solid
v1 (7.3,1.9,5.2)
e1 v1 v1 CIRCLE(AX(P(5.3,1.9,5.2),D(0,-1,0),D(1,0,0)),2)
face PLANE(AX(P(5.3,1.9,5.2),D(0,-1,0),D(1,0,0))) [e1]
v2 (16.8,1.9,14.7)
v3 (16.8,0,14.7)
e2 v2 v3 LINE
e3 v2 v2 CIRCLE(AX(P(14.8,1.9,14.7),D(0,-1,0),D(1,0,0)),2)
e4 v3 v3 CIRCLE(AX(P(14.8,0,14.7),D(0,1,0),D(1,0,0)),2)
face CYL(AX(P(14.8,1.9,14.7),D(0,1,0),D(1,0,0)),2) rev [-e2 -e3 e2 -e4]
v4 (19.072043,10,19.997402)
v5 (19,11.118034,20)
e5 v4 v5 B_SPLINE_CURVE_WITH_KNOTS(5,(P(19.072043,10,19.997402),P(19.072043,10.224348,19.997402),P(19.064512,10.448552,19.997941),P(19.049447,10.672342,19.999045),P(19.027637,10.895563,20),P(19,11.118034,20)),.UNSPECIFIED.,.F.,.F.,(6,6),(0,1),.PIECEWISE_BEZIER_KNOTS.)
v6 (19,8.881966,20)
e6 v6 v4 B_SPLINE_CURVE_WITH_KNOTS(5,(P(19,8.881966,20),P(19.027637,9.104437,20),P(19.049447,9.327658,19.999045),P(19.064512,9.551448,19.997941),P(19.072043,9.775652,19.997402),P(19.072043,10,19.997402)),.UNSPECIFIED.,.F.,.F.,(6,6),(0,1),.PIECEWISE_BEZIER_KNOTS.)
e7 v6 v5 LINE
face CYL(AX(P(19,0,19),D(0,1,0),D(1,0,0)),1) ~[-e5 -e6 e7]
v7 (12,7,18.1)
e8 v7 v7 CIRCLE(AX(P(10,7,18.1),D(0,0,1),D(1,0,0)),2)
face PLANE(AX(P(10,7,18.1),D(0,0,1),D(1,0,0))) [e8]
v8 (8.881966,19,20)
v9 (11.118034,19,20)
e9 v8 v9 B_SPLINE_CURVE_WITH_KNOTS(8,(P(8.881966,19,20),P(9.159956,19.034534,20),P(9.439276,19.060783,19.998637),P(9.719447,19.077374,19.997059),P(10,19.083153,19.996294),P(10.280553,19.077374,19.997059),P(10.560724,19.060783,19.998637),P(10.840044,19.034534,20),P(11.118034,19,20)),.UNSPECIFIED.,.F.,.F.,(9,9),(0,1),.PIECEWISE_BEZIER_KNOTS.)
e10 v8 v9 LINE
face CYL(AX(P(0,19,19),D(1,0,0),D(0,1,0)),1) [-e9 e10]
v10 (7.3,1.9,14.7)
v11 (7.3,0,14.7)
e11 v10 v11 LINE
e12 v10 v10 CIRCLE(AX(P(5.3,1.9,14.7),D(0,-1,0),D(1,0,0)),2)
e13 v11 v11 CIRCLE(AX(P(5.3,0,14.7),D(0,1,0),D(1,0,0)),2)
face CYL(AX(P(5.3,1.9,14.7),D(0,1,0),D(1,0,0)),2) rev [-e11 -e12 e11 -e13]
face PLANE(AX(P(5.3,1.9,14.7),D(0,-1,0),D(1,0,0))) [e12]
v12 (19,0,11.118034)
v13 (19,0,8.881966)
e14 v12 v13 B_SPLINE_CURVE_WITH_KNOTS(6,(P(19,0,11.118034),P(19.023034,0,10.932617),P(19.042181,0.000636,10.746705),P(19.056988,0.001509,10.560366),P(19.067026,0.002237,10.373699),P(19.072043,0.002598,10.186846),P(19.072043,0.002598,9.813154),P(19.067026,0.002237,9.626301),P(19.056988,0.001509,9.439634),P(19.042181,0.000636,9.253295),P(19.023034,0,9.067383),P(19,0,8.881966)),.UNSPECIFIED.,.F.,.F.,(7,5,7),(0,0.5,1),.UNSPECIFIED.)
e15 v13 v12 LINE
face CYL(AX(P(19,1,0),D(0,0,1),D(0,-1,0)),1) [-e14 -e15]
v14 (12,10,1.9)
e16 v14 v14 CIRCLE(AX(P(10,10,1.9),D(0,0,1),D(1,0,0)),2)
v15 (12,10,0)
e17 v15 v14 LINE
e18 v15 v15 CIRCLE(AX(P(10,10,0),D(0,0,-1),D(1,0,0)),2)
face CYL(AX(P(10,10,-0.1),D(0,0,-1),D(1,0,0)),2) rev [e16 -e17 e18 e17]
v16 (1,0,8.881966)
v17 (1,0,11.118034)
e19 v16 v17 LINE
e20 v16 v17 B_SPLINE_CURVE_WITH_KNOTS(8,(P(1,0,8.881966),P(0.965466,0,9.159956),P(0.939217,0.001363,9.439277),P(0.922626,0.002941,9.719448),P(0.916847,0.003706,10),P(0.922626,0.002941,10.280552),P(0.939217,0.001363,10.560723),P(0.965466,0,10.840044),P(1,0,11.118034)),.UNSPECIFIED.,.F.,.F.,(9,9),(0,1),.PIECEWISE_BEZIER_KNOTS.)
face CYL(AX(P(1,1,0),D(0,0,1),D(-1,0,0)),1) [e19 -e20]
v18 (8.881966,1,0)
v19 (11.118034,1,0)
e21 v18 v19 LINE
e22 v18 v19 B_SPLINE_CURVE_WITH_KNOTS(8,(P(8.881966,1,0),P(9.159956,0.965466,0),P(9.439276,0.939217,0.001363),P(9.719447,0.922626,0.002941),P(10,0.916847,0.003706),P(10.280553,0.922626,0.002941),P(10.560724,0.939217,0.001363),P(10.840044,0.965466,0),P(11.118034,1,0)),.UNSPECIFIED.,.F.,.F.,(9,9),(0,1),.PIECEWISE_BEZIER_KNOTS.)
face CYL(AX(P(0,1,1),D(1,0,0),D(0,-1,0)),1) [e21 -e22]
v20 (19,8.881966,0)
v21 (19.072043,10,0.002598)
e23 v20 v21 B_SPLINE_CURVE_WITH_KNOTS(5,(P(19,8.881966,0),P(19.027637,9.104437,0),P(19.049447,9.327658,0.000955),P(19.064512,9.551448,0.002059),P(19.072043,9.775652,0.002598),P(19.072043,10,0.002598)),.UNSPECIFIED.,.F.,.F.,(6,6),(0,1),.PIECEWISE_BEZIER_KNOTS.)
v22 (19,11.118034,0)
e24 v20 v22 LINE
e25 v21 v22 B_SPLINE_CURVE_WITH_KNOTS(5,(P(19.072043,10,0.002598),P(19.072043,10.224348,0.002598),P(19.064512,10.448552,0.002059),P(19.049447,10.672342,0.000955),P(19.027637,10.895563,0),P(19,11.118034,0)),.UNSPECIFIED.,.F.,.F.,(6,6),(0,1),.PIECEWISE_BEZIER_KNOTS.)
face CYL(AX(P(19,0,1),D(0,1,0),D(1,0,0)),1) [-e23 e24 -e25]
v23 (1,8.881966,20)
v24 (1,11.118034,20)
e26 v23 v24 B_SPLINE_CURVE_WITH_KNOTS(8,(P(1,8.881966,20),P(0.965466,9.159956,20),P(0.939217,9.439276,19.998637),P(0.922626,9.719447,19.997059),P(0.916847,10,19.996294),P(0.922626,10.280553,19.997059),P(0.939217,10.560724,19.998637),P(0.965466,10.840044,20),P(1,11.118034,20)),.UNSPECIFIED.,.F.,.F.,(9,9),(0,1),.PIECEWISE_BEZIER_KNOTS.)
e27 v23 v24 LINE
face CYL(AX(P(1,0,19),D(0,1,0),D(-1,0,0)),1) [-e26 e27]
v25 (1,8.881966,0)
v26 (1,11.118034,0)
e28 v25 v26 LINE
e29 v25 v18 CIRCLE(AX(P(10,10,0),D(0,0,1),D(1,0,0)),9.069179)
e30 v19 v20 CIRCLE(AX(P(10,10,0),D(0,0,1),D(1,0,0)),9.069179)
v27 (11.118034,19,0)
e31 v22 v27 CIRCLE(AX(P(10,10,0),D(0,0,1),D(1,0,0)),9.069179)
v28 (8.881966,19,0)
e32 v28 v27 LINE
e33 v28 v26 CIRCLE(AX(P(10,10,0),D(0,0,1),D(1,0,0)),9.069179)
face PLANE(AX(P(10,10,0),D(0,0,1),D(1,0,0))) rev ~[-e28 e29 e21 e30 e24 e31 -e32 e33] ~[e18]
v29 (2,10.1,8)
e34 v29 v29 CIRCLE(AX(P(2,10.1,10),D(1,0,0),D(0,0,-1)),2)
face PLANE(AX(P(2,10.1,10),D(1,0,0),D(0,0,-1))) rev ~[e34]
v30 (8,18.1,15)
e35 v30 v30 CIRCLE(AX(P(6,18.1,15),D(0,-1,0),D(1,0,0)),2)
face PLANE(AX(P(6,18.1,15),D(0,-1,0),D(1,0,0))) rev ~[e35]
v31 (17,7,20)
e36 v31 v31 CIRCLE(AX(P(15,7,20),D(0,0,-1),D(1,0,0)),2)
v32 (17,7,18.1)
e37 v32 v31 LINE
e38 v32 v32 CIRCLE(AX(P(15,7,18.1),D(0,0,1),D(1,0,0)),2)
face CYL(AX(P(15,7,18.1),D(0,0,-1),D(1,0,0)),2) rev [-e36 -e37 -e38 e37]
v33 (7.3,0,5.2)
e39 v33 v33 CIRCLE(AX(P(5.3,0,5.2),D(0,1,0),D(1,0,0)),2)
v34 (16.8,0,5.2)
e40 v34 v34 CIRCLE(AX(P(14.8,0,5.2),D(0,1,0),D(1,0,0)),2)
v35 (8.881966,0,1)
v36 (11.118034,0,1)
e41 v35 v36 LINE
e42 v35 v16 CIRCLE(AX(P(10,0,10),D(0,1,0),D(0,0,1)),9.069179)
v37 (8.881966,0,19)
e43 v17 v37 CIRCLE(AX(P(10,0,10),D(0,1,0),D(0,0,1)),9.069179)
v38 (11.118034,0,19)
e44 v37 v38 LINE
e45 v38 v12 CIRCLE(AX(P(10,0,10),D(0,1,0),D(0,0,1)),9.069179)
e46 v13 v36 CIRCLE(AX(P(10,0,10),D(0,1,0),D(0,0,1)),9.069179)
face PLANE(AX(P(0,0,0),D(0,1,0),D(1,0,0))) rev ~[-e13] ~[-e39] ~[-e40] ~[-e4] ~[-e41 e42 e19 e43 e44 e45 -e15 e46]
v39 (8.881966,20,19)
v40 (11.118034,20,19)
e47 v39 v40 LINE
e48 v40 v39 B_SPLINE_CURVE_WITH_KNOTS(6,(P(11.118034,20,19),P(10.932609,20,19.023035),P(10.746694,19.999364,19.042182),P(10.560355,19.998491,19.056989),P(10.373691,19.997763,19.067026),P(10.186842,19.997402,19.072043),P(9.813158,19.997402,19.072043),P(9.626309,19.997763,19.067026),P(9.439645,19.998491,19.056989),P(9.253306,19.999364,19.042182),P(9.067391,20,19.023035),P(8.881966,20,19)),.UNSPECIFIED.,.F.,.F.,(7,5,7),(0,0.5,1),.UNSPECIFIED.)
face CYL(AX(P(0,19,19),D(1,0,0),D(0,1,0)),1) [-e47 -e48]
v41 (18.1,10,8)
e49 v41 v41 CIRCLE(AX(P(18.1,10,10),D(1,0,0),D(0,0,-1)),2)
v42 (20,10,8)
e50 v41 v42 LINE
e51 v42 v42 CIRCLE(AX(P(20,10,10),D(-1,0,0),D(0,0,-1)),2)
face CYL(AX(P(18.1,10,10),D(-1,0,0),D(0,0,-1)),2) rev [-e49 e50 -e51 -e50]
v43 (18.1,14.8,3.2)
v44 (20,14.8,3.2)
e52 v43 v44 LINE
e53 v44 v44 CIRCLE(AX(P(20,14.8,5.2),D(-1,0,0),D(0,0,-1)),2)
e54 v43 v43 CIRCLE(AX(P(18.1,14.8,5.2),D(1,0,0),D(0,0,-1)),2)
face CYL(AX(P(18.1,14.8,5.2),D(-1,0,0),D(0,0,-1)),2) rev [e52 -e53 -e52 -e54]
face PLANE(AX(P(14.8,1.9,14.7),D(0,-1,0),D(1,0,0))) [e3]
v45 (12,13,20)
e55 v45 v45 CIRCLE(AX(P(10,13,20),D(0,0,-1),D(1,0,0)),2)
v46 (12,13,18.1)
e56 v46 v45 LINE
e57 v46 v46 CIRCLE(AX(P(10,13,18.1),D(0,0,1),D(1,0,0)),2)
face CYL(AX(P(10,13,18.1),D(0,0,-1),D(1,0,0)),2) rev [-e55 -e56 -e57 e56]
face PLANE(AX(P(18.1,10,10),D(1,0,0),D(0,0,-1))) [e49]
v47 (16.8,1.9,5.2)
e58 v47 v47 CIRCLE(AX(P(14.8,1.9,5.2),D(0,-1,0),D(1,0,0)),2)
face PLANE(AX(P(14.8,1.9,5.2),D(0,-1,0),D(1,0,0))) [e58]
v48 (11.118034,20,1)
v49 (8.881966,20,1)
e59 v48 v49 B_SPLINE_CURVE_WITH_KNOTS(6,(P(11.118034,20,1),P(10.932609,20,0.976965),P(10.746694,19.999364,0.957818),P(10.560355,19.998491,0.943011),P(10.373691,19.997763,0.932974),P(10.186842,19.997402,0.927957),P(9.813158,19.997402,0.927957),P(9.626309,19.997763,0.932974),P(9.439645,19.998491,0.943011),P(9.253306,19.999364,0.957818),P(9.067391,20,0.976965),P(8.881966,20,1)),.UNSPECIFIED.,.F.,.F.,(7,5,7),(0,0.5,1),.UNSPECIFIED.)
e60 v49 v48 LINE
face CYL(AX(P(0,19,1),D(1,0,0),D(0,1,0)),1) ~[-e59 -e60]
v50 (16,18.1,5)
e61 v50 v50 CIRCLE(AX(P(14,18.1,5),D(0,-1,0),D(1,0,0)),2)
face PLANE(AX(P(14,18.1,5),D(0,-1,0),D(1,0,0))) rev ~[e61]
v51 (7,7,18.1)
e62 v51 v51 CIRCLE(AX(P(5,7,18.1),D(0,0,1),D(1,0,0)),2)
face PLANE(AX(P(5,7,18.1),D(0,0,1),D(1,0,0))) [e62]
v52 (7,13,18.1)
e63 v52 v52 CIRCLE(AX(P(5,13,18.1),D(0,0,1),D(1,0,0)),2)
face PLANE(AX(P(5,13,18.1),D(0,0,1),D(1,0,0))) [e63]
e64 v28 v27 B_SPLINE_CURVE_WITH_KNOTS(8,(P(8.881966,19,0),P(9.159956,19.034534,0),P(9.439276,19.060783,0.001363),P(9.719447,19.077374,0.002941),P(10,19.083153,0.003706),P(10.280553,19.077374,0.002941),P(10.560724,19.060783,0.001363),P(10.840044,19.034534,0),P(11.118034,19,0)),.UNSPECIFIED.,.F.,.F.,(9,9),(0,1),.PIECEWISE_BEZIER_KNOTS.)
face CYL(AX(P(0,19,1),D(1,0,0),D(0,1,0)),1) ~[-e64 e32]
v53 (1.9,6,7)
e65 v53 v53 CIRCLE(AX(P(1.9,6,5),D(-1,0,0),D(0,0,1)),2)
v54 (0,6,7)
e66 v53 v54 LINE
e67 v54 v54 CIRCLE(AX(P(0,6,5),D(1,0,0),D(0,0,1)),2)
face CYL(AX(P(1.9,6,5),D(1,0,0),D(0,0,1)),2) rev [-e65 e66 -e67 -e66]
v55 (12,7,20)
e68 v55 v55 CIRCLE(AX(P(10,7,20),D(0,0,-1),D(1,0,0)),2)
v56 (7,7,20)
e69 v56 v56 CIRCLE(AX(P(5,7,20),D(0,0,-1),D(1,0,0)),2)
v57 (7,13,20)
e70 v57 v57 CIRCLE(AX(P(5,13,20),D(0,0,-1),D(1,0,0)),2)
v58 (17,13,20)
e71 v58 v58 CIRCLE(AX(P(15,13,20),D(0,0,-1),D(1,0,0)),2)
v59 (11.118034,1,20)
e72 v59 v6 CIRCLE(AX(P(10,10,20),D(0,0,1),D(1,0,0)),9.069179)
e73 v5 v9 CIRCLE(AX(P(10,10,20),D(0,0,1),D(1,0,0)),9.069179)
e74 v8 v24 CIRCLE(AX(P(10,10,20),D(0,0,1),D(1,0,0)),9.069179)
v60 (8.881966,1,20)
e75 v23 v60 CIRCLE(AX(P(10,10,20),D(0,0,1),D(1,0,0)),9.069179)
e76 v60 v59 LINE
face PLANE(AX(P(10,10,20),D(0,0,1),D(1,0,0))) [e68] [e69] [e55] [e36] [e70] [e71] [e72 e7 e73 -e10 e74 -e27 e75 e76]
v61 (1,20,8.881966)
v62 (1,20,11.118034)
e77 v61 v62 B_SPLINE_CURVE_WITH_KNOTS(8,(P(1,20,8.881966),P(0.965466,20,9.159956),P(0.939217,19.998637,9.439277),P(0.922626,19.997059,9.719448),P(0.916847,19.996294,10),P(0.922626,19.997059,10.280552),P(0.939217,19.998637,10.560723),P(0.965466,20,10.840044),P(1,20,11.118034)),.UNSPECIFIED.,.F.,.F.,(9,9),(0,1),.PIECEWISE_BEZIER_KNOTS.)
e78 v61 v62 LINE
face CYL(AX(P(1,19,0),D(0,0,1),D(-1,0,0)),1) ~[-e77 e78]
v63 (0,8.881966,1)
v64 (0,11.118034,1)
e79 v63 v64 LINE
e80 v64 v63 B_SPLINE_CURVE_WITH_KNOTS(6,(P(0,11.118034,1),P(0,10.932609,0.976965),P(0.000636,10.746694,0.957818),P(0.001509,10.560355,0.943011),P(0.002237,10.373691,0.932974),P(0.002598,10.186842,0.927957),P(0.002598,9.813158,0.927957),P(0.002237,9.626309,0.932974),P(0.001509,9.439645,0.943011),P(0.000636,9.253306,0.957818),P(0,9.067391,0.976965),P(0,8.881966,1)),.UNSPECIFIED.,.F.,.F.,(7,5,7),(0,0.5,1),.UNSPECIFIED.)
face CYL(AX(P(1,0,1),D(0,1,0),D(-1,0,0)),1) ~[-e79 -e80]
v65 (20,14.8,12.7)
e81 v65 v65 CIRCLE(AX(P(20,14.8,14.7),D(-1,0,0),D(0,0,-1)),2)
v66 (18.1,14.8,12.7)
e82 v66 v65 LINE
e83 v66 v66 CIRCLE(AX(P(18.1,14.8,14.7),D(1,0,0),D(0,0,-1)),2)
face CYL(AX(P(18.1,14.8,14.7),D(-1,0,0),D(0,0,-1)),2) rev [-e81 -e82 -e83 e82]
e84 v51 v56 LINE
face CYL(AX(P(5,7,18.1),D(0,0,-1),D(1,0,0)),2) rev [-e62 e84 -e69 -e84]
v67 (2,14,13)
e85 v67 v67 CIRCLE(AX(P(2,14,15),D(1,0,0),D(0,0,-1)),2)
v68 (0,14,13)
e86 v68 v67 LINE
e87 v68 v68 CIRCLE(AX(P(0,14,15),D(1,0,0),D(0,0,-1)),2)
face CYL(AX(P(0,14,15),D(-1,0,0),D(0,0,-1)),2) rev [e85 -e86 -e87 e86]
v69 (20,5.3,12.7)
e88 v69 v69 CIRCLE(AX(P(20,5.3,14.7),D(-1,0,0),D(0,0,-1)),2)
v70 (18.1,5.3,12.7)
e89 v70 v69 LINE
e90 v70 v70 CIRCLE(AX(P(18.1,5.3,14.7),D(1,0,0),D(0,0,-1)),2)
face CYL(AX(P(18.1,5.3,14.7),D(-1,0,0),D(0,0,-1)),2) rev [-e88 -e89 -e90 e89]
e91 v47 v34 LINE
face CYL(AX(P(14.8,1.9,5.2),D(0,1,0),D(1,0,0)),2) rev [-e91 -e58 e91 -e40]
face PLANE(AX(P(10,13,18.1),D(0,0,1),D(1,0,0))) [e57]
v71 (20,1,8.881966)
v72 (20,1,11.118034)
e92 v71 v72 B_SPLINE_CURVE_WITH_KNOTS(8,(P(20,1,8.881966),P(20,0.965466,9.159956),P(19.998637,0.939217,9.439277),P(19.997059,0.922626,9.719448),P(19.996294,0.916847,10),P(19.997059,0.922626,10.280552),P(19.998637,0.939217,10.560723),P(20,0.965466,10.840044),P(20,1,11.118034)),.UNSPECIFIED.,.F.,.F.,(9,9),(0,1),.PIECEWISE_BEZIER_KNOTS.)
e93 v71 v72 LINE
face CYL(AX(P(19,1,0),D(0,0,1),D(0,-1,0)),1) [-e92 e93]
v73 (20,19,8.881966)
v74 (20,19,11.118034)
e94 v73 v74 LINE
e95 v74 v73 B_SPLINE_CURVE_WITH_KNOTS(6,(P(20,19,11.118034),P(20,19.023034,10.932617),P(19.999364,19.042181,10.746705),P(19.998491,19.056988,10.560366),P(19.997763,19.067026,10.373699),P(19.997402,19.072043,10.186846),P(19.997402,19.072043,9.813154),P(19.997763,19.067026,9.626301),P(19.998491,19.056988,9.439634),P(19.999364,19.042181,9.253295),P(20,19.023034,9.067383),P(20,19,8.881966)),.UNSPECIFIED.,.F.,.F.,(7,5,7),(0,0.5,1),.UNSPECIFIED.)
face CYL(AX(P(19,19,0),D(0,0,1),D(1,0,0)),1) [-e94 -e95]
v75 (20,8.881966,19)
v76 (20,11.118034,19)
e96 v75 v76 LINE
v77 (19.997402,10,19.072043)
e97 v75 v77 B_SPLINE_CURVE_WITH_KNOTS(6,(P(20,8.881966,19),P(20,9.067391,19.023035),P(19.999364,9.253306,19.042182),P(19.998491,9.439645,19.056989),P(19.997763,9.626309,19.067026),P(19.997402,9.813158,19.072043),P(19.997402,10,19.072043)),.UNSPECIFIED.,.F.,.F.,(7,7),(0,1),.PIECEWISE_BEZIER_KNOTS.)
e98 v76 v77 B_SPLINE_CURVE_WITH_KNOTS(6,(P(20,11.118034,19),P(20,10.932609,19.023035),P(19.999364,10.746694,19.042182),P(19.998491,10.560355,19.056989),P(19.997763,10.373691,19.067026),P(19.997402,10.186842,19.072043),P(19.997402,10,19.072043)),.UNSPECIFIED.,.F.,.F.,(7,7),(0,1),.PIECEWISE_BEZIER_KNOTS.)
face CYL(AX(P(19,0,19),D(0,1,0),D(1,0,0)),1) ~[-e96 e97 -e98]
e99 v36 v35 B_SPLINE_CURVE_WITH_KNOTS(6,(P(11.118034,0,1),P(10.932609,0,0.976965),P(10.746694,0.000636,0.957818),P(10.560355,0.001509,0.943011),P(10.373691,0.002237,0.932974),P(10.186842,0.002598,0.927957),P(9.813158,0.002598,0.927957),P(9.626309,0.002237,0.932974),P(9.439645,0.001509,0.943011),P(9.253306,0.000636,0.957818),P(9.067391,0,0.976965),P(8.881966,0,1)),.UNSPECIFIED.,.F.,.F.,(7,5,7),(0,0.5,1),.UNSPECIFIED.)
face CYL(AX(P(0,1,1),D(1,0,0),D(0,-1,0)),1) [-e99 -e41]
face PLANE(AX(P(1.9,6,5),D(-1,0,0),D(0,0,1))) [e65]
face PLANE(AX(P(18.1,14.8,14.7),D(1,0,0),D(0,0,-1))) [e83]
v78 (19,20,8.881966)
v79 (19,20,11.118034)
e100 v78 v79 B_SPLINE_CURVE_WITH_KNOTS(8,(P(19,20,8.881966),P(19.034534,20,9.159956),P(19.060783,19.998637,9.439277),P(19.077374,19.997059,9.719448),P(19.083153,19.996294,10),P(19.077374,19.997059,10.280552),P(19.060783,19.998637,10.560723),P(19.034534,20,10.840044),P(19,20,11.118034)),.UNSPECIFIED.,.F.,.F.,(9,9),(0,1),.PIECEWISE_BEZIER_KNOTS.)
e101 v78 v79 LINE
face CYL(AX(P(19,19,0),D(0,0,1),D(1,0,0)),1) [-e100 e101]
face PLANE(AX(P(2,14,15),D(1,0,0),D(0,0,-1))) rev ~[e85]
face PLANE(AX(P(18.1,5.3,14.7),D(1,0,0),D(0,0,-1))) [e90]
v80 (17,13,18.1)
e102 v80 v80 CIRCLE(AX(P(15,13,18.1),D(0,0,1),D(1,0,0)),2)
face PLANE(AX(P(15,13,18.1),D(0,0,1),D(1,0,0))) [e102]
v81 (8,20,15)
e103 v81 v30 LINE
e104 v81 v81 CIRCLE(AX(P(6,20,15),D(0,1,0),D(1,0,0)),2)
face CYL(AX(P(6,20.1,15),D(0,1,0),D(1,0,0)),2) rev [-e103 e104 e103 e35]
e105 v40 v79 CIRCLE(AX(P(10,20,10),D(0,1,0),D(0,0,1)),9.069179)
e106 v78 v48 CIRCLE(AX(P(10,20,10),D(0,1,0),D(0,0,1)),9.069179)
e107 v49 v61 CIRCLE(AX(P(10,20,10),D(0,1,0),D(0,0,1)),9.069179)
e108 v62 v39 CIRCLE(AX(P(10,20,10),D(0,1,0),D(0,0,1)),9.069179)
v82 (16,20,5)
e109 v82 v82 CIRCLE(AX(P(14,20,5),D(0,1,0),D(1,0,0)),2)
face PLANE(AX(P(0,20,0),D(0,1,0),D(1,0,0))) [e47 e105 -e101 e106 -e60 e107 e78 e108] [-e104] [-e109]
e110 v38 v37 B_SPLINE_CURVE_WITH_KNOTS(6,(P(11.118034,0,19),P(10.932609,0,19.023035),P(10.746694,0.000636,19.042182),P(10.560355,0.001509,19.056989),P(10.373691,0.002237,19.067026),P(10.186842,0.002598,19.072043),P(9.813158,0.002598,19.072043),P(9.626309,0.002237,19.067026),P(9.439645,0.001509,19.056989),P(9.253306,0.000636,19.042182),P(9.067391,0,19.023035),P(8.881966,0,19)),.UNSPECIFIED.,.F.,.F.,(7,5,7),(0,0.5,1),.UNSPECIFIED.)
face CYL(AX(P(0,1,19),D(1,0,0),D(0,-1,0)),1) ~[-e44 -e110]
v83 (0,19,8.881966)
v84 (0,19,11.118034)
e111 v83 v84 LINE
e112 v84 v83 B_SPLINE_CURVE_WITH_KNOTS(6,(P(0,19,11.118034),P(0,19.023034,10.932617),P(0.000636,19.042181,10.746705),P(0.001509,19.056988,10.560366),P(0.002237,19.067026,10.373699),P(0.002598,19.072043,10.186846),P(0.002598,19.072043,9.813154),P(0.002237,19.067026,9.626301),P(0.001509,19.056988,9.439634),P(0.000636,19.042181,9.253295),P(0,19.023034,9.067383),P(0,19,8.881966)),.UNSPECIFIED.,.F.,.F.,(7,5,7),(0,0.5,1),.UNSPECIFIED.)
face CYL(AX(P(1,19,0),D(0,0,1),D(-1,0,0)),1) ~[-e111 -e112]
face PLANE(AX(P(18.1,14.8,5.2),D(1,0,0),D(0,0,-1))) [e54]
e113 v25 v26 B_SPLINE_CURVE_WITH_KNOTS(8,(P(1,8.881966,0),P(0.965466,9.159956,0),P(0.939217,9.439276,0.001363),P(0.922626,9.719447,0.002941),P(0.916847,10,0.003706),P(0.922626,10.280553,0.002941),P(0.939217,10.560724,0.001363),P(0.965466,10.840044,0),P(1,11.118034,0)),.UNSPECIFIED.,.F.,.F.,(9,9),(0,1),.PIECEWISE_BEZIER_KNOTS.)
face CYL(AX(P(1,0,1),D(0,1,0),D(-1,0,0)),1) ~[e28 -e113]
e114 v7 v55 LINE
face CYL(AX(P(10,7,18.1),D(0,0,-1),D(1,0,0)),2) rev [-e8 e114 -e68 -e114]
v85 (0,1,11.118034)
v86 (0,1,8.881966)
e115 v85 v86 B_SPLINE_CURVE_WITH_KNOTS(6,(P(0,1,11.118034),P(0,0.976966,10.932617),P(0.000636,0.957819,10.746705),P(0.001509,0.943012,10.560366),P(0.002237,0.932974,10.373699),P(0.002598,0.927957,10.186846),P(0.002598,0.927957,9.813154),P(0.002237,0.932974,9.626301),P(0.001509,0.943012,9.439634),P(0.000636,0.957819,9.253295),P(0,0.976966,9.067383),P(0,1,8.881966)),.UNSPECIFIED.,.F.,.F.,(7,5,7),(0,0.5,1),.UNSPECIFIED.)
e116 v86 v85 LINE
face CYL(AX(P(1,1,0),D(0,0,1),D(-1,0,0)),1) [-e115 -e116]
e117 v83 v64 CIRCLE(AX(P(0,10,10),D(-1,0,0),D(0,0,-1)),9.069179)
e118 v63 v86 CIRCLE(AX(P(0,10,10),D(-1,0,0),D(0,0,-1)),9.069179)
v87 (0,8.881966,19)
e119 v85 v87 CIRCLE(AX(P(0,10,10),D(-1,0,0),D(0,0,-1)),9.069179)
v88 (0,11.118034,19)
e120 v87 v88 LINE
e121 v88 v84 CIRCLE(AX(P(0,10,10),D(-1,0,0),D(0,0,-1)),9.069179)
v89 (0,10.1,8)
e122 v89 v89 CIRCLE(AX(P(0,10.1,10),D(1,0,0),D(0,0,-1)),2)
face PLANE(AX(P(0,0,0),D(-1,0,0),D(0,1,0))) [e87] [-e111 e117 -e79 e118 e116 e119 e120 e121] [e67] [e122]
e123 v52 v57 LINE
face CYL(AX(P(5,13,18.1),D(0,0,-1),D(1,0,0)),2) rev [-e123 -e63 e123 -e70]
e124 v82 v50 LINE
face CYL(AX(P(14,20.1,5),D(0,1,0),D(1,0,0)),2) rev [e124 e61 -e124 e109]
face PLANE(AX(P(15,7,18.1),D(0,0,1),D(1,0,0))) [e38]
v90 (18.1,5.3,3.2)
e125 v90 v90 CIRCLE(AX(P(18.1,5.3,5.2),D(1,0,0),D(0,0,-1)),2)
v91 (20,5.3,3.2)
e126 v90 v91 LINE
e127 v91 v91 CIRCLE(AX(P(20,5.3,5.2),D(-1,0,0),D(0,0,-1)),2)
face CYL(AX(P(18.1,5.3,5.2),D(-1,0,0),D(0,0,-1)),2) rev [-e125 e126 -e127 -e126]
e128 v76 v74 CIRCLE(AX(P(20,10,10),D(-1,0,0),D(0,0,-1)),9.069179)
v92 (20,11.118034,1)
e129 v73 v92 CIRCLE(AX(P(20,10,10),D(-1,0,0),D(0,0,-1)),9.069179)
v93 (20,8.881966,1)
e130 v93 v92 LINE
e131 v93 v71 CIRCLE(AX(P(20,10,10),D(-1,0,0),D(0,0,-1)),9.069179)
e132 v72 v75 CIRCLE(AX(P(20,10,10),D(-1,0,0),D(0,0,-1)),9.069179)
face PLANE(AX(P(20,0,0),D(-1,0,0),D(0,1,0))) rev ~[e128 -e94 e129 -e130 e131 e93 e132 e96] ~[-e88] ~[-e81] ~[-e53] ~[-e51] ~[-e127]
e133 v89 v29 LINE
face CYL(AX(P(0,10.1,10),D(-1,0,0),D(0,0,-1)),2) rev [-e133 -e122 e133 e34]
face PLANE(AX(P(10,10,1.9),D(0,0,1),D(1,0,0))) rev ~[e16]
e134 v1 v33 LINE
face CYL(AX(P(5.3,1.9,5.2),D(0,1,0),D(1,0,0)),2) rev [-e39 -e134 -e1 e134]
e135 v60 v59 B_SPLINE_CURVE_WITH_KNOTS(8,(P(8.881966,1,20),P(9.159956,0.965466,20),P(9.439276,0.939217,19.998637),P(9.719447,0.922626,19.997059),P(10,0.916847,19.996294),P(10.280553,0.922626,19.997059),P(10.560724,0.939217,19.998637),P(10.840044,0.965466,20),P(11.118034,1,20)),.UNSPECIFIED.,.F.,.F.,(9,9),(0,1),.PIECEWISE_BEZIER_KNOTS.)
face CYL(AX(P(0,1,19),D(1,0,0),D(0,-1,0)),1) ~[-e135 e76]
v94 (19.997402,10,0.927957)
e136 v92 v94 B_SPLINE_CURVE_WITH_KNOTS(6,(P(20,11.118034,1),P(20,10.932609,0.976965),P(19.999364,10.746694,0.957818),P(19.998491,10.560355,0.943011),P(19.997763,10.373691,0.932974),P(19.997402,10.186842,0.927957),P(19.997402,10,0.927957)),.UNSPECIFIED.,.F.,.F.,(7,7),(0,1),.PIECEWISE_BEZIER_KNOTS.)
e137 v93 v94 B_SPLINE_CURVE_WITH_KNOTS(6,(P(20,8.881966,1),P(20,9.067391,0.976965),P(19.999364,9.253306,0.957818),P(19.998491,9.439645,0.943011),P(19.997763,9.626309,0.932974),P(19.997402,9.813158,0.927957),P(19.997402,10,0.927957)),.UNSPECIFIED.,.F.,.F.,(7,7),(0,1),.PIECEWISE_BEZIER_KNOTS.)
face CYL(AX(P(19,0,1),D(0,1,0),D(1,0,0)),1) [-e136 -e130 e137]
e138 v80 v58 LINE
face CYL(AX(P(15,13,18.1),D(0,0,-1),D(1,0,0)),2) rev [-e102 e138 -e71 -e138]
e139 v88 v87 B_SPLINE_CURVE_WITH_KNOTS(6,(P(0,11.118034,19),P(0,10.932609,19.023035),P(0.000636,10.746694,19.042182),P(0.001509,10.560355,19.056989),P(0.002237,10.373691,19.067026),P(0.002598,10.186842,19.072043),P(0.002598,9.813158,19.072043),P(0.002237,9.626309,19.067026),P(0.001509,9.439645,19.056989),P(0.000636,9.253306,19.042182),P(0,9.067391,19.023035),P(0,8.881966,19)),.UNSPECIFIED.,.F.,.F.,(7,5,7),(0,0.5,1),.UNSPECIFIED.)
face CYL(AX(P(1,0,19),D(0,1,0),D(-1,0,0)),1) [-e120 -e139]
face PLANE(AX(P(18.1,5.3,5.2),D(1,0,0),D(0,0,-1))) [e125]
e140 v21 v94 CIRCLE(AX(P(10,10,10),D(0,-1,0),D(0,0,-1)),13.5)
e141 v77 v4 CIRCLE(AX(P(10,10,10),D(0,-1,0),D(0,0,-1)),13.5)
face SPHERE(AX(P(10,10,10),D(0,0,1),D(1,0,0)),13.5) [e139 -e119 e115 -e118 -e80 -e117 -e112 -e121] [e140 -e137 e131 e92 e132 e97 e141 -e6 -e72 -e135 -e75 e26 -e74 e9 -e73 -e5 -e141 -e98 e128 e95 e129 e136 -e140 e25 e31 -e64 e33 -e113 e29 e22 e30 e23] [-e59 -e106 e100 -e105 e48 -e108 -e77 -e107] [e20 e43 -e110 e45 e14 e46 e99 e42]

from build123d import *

# Parameters (mm, degrees)
CYLINDER010_R     = 2
CYLINDER010_DEPTH = 2
CYLINDER009_R     = 2
CYLINDER009_DEPTH = 2
CYLINDER008_R     = 2
CYLINDER008_DEPTH = 2
CYLINDER007_R     = 2
CYLINDER007_DEPTH = 2
CYLINDER006_R     = 2
CYLINDER006_DEPTH = 2
ARRAY002_Y_COUNT  = 2
ARRAY002_Y_PITCH  = 9.5
ARRAY002_Z_COUNT  = 2
ARRAY002_Z_PITCH  = 9.5
CYLINDER005_R     = 2
CYLINDER005_DEPTH = 2
ARRAY001_X_COUNT  = 2
ARRAY001_X_PITCH  = 9.5
ARRAY001_Z_COUNT  = 2
ARRAY001_Z_PITCH  = 9.5
CYLINDER003_R     = 2
CYLINDER003_DEPTH = 2
CYLINDER002_R     = 2
CYLINDER002_DEPTH = 2
CYLINDER001_R     = 2
CYLINDER001_DEPTH = 2
CYLINDER_R        = 2
CYLINDER_DEPTH    = 2
ARRAY_X_COUNT     = 3
ARRAY_X_PITCH     = 5
ARRAY_Y_COUNT     = 2
ARRAY_Y_PITCH     = 6
BOX_W             = 20
BOX_H             = 20
BOX_DEPTH         = 20
FILLET_R          = 1


with BuildPart() as cilindre010:
    # Cylinder010 → Cylinder010 (new body)
    with BuildSketch(Plane(origin=(14, 20.1, 5), x_dir=(1, 0, 0), z_dir=(0, -1, 0))):
        Circle(CYLINDER010_R)
    extrude(amount=CYLINDER010_DEPTH)


with BuildPart() as cilindre009:
    # Cylinder009 → Cylinder009 (new body)
    with BuildSketch(Plane(origin=(6, 20.1, 15), x_dir=(1, 0, 0), z_dir=(0, -1, 0))):
        Circle(CYLINDER009_R)
    extrude(amount=CYLINDER009_DEPTH)


with BuildPart() as cilindre008:
    # Cylinder008 → Cylinder008 (new body)
    with BuildSketch(Plane(origin=(10, 10, -0.1), x_dir=(1, 0, 0), z_dir=(0, 0, 1))):
        Circle(CYLINDER008_R)
    extrude(amount=CYLINDER008_DEPTH)


with BuildPart() as cilindre007:
    # Cylinder007 → Cylinder007 (new body)
    with BuildSketch(Plane(origin=(18.1, 10, 10), x_dir=(0, 0, -1), z_dir=(1, 0, 0))):
        Circle(CYLINDER007_R)
    extrude(amount=CYLINDER007_DEPTH)


with BuildPart() as array002:
    # Cylinder006 → Cylinder006 (new body)
    with BuildSketch(Plane(origin=(0, 0, 0), x_dir=(0, 0, -1), z_dir=(1, 0, 0))):
        Circle(CYLINDER006_R)
    extrude(amount=CYLINDER006_DEPTH)

    # Array002 Y: Array002 ×2


with BuildPart() as array002_1:
    add(array002.part)
    with Locations(*[(0, i * ARRAY002_Y_PITCH, 0) for i in range(1, ARRAY002_Y_COUNT)]):
        add(array002.part)

    # Array002 Z: Array002 ×2


with BuildPart() as array002_2:
    add(array002_1.part)
    with Locations(*[(0, 0, i * ARRAY002_Z_PITCH) for i in range(1, ARRAY002_Z_COUNT)]):
        add(array002_1.part)


with BuildPart() as array002_3:
    # Array002 placement: moved
    add(array002_2.part.moved(Location((18.1, 5.3, 5.2))))


with BuildPart() as array001:
    # Cylinder005 → Cylinder005 (new body)
    with BuildSketch(Plane.XZ):
        Circle(CYLINDER005_R)
    extrude(amount=CYLINDER005_DEPTH)

    # Array001 X: Array001 ×2


with BuildPart() as array001_1:
    add(array001.part)
    with Locations(*[(i * ARRAY001_X_PITCH, 0, 0) for i in range(1, ARRAY001_X_COUNT)]):
        add(array001.part)

    # Array001 Z: Array001 ×2


with BuildPart() as array001_2:
    add(array001_1.part)
    with Locations(*[(0, 0, i * ARRAY001_Z_PITCH) for i in range(1, ARRAY001_Z_COUNT)]):
        add(array001_1.part)


with BuildPart() as array001_3:
    # Array001 placement: moved
    add(array001_2.part.moved(Location((5.3, 1.9, 5.2))))


with BuildPart() as cilindre003:
    # Cylinder003 → Cylinder003 (new body)
    with BuildSketch(Plane(origin=(0, 14, 15), x_dir=(0, 0, -1), z_dir=(1, 0, 0))):
        Circle(CYLINDER003_R)
    extrude(amount=CYLINDER003_DEPTH)


with BuildPart() as cilindre002:
    # Cylinder002 → Cylinder002 (new body)
    with BuildSketch(Plane(origin=(0, 10.1, 10), x_dir=(0, 0, -1), z_dir=(1, 0, 0))):
        Circle(CYLINDER002_R)
    extrude(amount=CYLINDER002_DEPTH)


with BuildPart() as cilindre001:
    # Cylinder001 → Cylinder001 (new body)
    with BuildSketch(Plane(origin=(1.9, 6, 5), x_dir=(0, 0, 1), z_dir=(-1, 0, 0))):
        Circle(CYLINDER001_R)
    extrude(amount=CYLINDER001_DEPTH)


with BuildPart() as array:
    # Cylinder → Cylinder (new body)
    with BuildSketch(Plane(origin=(5, 6.5, 18.1), x_dir=(1, 0, 0), z_dir=(0, 0, 1))):
        Circle(CYLINDER_R)
    extrude(amount=CYLINDER_DEPTH)

    # Array X: Array ×3


with BuildPart() as array_1:
    add(array.part)
    with Locations(*[(i * ARRAY_X_PITCH, 0, 0) for i in range(1, ARRAY_X_COUNT)]):
        add(array.part)

    # Array Y: Array ×2


with BuildPart() as array_2:
    add(array_1.part)
    with Locations(*[(0, i * ARRAY_Y_PITCH, 0) for i in range(1, ARRAY_Y_COUNT)]):
        add(array_1.part)


with BuildPart() as array_3:
    # Array placement: moved
    add(array_2.part.moved(Location((0, 0.5, 0))))


with BuildPart() as esfera:
    # Sphere → Sphere (revolve)
    with BuildSketch(Plane(origin=(10, 10, 10), x_dir=(1, 0, 0), z_dir=(0, -1, 0))):
        with BuildLine():
            ThreePointArc((0, -13.5), (13.5, 0), (0, 13.5))
            Line((0, 13.5), (0, -13.5))
        make_face()
    revolve(axis=Axis((10, 10, 10), (0, 0, 1)))


with BuildPart() as cut009:
    # Box → Box (new body)
    with BuildSketch(Plane.XY):
        with Locations((10, 10)):
            Rectangle(BOX_W, BOX_H)
    extrude(amount=BOX_DEPTH)

    # Fillet
    fillet_edges = [cut009.edges().sort_by_distance(p)[0] for p in [
        (0, 0, 10),
        (0, 10, 20),
        (0, 20, 10),
        (0, 10, 0),
        (20, 0, 10),
        (20, 10, 20),
        (20, 20, 10),
        (20, 10, 0),
        (10, 0, 0),
        (10, 0, 20),
        (10, 20, 0),
        (10, 20, 20),
    ]]
    fillet(fillet_edges, radius=FILLET_R)

    # Common: intersect Esfera
    add(esfera.part, mode=Mode.INTERSECT)

    # Cut: cut Array
    add(array_3.part, mode=Mode.SUBTRACT)

    # Cut001: cut Cilindre001
    add(cilindre001.part, mode=Mode.SUBTRACT)

    # Cut002: cut Cilindre002
    add(cilindre002.part, mode=Mode.SUBTRACT)

    # Cut003: cut Cilindre003
    add(cilindre003.part, mode=Mode.SUBTRACT)

    # Cut004: cut Array001
    add(array001_3.part, mode=Mode.SUBTRACT)

    # Cut005: cut Array002
    add(array002_3.part, mode=Mode.SUBTRACT)

    # Cut006: cut Cilindre007
    add(cilindre007.part, mode=Mode.SUBTRACT)

    # Cut007: cut Cilindre008
    add(cilindre008.part, mode=Mode.SUBTRACT)

    # Cut008: cut Cilindre009
    add(cilindre009.part, mode=Mode.SUBTRACT)

    # Cut009: cut Cilindre010
    add(cilindre010.part, mode=Mode.SUBTRACT)


solid = cut009.part
